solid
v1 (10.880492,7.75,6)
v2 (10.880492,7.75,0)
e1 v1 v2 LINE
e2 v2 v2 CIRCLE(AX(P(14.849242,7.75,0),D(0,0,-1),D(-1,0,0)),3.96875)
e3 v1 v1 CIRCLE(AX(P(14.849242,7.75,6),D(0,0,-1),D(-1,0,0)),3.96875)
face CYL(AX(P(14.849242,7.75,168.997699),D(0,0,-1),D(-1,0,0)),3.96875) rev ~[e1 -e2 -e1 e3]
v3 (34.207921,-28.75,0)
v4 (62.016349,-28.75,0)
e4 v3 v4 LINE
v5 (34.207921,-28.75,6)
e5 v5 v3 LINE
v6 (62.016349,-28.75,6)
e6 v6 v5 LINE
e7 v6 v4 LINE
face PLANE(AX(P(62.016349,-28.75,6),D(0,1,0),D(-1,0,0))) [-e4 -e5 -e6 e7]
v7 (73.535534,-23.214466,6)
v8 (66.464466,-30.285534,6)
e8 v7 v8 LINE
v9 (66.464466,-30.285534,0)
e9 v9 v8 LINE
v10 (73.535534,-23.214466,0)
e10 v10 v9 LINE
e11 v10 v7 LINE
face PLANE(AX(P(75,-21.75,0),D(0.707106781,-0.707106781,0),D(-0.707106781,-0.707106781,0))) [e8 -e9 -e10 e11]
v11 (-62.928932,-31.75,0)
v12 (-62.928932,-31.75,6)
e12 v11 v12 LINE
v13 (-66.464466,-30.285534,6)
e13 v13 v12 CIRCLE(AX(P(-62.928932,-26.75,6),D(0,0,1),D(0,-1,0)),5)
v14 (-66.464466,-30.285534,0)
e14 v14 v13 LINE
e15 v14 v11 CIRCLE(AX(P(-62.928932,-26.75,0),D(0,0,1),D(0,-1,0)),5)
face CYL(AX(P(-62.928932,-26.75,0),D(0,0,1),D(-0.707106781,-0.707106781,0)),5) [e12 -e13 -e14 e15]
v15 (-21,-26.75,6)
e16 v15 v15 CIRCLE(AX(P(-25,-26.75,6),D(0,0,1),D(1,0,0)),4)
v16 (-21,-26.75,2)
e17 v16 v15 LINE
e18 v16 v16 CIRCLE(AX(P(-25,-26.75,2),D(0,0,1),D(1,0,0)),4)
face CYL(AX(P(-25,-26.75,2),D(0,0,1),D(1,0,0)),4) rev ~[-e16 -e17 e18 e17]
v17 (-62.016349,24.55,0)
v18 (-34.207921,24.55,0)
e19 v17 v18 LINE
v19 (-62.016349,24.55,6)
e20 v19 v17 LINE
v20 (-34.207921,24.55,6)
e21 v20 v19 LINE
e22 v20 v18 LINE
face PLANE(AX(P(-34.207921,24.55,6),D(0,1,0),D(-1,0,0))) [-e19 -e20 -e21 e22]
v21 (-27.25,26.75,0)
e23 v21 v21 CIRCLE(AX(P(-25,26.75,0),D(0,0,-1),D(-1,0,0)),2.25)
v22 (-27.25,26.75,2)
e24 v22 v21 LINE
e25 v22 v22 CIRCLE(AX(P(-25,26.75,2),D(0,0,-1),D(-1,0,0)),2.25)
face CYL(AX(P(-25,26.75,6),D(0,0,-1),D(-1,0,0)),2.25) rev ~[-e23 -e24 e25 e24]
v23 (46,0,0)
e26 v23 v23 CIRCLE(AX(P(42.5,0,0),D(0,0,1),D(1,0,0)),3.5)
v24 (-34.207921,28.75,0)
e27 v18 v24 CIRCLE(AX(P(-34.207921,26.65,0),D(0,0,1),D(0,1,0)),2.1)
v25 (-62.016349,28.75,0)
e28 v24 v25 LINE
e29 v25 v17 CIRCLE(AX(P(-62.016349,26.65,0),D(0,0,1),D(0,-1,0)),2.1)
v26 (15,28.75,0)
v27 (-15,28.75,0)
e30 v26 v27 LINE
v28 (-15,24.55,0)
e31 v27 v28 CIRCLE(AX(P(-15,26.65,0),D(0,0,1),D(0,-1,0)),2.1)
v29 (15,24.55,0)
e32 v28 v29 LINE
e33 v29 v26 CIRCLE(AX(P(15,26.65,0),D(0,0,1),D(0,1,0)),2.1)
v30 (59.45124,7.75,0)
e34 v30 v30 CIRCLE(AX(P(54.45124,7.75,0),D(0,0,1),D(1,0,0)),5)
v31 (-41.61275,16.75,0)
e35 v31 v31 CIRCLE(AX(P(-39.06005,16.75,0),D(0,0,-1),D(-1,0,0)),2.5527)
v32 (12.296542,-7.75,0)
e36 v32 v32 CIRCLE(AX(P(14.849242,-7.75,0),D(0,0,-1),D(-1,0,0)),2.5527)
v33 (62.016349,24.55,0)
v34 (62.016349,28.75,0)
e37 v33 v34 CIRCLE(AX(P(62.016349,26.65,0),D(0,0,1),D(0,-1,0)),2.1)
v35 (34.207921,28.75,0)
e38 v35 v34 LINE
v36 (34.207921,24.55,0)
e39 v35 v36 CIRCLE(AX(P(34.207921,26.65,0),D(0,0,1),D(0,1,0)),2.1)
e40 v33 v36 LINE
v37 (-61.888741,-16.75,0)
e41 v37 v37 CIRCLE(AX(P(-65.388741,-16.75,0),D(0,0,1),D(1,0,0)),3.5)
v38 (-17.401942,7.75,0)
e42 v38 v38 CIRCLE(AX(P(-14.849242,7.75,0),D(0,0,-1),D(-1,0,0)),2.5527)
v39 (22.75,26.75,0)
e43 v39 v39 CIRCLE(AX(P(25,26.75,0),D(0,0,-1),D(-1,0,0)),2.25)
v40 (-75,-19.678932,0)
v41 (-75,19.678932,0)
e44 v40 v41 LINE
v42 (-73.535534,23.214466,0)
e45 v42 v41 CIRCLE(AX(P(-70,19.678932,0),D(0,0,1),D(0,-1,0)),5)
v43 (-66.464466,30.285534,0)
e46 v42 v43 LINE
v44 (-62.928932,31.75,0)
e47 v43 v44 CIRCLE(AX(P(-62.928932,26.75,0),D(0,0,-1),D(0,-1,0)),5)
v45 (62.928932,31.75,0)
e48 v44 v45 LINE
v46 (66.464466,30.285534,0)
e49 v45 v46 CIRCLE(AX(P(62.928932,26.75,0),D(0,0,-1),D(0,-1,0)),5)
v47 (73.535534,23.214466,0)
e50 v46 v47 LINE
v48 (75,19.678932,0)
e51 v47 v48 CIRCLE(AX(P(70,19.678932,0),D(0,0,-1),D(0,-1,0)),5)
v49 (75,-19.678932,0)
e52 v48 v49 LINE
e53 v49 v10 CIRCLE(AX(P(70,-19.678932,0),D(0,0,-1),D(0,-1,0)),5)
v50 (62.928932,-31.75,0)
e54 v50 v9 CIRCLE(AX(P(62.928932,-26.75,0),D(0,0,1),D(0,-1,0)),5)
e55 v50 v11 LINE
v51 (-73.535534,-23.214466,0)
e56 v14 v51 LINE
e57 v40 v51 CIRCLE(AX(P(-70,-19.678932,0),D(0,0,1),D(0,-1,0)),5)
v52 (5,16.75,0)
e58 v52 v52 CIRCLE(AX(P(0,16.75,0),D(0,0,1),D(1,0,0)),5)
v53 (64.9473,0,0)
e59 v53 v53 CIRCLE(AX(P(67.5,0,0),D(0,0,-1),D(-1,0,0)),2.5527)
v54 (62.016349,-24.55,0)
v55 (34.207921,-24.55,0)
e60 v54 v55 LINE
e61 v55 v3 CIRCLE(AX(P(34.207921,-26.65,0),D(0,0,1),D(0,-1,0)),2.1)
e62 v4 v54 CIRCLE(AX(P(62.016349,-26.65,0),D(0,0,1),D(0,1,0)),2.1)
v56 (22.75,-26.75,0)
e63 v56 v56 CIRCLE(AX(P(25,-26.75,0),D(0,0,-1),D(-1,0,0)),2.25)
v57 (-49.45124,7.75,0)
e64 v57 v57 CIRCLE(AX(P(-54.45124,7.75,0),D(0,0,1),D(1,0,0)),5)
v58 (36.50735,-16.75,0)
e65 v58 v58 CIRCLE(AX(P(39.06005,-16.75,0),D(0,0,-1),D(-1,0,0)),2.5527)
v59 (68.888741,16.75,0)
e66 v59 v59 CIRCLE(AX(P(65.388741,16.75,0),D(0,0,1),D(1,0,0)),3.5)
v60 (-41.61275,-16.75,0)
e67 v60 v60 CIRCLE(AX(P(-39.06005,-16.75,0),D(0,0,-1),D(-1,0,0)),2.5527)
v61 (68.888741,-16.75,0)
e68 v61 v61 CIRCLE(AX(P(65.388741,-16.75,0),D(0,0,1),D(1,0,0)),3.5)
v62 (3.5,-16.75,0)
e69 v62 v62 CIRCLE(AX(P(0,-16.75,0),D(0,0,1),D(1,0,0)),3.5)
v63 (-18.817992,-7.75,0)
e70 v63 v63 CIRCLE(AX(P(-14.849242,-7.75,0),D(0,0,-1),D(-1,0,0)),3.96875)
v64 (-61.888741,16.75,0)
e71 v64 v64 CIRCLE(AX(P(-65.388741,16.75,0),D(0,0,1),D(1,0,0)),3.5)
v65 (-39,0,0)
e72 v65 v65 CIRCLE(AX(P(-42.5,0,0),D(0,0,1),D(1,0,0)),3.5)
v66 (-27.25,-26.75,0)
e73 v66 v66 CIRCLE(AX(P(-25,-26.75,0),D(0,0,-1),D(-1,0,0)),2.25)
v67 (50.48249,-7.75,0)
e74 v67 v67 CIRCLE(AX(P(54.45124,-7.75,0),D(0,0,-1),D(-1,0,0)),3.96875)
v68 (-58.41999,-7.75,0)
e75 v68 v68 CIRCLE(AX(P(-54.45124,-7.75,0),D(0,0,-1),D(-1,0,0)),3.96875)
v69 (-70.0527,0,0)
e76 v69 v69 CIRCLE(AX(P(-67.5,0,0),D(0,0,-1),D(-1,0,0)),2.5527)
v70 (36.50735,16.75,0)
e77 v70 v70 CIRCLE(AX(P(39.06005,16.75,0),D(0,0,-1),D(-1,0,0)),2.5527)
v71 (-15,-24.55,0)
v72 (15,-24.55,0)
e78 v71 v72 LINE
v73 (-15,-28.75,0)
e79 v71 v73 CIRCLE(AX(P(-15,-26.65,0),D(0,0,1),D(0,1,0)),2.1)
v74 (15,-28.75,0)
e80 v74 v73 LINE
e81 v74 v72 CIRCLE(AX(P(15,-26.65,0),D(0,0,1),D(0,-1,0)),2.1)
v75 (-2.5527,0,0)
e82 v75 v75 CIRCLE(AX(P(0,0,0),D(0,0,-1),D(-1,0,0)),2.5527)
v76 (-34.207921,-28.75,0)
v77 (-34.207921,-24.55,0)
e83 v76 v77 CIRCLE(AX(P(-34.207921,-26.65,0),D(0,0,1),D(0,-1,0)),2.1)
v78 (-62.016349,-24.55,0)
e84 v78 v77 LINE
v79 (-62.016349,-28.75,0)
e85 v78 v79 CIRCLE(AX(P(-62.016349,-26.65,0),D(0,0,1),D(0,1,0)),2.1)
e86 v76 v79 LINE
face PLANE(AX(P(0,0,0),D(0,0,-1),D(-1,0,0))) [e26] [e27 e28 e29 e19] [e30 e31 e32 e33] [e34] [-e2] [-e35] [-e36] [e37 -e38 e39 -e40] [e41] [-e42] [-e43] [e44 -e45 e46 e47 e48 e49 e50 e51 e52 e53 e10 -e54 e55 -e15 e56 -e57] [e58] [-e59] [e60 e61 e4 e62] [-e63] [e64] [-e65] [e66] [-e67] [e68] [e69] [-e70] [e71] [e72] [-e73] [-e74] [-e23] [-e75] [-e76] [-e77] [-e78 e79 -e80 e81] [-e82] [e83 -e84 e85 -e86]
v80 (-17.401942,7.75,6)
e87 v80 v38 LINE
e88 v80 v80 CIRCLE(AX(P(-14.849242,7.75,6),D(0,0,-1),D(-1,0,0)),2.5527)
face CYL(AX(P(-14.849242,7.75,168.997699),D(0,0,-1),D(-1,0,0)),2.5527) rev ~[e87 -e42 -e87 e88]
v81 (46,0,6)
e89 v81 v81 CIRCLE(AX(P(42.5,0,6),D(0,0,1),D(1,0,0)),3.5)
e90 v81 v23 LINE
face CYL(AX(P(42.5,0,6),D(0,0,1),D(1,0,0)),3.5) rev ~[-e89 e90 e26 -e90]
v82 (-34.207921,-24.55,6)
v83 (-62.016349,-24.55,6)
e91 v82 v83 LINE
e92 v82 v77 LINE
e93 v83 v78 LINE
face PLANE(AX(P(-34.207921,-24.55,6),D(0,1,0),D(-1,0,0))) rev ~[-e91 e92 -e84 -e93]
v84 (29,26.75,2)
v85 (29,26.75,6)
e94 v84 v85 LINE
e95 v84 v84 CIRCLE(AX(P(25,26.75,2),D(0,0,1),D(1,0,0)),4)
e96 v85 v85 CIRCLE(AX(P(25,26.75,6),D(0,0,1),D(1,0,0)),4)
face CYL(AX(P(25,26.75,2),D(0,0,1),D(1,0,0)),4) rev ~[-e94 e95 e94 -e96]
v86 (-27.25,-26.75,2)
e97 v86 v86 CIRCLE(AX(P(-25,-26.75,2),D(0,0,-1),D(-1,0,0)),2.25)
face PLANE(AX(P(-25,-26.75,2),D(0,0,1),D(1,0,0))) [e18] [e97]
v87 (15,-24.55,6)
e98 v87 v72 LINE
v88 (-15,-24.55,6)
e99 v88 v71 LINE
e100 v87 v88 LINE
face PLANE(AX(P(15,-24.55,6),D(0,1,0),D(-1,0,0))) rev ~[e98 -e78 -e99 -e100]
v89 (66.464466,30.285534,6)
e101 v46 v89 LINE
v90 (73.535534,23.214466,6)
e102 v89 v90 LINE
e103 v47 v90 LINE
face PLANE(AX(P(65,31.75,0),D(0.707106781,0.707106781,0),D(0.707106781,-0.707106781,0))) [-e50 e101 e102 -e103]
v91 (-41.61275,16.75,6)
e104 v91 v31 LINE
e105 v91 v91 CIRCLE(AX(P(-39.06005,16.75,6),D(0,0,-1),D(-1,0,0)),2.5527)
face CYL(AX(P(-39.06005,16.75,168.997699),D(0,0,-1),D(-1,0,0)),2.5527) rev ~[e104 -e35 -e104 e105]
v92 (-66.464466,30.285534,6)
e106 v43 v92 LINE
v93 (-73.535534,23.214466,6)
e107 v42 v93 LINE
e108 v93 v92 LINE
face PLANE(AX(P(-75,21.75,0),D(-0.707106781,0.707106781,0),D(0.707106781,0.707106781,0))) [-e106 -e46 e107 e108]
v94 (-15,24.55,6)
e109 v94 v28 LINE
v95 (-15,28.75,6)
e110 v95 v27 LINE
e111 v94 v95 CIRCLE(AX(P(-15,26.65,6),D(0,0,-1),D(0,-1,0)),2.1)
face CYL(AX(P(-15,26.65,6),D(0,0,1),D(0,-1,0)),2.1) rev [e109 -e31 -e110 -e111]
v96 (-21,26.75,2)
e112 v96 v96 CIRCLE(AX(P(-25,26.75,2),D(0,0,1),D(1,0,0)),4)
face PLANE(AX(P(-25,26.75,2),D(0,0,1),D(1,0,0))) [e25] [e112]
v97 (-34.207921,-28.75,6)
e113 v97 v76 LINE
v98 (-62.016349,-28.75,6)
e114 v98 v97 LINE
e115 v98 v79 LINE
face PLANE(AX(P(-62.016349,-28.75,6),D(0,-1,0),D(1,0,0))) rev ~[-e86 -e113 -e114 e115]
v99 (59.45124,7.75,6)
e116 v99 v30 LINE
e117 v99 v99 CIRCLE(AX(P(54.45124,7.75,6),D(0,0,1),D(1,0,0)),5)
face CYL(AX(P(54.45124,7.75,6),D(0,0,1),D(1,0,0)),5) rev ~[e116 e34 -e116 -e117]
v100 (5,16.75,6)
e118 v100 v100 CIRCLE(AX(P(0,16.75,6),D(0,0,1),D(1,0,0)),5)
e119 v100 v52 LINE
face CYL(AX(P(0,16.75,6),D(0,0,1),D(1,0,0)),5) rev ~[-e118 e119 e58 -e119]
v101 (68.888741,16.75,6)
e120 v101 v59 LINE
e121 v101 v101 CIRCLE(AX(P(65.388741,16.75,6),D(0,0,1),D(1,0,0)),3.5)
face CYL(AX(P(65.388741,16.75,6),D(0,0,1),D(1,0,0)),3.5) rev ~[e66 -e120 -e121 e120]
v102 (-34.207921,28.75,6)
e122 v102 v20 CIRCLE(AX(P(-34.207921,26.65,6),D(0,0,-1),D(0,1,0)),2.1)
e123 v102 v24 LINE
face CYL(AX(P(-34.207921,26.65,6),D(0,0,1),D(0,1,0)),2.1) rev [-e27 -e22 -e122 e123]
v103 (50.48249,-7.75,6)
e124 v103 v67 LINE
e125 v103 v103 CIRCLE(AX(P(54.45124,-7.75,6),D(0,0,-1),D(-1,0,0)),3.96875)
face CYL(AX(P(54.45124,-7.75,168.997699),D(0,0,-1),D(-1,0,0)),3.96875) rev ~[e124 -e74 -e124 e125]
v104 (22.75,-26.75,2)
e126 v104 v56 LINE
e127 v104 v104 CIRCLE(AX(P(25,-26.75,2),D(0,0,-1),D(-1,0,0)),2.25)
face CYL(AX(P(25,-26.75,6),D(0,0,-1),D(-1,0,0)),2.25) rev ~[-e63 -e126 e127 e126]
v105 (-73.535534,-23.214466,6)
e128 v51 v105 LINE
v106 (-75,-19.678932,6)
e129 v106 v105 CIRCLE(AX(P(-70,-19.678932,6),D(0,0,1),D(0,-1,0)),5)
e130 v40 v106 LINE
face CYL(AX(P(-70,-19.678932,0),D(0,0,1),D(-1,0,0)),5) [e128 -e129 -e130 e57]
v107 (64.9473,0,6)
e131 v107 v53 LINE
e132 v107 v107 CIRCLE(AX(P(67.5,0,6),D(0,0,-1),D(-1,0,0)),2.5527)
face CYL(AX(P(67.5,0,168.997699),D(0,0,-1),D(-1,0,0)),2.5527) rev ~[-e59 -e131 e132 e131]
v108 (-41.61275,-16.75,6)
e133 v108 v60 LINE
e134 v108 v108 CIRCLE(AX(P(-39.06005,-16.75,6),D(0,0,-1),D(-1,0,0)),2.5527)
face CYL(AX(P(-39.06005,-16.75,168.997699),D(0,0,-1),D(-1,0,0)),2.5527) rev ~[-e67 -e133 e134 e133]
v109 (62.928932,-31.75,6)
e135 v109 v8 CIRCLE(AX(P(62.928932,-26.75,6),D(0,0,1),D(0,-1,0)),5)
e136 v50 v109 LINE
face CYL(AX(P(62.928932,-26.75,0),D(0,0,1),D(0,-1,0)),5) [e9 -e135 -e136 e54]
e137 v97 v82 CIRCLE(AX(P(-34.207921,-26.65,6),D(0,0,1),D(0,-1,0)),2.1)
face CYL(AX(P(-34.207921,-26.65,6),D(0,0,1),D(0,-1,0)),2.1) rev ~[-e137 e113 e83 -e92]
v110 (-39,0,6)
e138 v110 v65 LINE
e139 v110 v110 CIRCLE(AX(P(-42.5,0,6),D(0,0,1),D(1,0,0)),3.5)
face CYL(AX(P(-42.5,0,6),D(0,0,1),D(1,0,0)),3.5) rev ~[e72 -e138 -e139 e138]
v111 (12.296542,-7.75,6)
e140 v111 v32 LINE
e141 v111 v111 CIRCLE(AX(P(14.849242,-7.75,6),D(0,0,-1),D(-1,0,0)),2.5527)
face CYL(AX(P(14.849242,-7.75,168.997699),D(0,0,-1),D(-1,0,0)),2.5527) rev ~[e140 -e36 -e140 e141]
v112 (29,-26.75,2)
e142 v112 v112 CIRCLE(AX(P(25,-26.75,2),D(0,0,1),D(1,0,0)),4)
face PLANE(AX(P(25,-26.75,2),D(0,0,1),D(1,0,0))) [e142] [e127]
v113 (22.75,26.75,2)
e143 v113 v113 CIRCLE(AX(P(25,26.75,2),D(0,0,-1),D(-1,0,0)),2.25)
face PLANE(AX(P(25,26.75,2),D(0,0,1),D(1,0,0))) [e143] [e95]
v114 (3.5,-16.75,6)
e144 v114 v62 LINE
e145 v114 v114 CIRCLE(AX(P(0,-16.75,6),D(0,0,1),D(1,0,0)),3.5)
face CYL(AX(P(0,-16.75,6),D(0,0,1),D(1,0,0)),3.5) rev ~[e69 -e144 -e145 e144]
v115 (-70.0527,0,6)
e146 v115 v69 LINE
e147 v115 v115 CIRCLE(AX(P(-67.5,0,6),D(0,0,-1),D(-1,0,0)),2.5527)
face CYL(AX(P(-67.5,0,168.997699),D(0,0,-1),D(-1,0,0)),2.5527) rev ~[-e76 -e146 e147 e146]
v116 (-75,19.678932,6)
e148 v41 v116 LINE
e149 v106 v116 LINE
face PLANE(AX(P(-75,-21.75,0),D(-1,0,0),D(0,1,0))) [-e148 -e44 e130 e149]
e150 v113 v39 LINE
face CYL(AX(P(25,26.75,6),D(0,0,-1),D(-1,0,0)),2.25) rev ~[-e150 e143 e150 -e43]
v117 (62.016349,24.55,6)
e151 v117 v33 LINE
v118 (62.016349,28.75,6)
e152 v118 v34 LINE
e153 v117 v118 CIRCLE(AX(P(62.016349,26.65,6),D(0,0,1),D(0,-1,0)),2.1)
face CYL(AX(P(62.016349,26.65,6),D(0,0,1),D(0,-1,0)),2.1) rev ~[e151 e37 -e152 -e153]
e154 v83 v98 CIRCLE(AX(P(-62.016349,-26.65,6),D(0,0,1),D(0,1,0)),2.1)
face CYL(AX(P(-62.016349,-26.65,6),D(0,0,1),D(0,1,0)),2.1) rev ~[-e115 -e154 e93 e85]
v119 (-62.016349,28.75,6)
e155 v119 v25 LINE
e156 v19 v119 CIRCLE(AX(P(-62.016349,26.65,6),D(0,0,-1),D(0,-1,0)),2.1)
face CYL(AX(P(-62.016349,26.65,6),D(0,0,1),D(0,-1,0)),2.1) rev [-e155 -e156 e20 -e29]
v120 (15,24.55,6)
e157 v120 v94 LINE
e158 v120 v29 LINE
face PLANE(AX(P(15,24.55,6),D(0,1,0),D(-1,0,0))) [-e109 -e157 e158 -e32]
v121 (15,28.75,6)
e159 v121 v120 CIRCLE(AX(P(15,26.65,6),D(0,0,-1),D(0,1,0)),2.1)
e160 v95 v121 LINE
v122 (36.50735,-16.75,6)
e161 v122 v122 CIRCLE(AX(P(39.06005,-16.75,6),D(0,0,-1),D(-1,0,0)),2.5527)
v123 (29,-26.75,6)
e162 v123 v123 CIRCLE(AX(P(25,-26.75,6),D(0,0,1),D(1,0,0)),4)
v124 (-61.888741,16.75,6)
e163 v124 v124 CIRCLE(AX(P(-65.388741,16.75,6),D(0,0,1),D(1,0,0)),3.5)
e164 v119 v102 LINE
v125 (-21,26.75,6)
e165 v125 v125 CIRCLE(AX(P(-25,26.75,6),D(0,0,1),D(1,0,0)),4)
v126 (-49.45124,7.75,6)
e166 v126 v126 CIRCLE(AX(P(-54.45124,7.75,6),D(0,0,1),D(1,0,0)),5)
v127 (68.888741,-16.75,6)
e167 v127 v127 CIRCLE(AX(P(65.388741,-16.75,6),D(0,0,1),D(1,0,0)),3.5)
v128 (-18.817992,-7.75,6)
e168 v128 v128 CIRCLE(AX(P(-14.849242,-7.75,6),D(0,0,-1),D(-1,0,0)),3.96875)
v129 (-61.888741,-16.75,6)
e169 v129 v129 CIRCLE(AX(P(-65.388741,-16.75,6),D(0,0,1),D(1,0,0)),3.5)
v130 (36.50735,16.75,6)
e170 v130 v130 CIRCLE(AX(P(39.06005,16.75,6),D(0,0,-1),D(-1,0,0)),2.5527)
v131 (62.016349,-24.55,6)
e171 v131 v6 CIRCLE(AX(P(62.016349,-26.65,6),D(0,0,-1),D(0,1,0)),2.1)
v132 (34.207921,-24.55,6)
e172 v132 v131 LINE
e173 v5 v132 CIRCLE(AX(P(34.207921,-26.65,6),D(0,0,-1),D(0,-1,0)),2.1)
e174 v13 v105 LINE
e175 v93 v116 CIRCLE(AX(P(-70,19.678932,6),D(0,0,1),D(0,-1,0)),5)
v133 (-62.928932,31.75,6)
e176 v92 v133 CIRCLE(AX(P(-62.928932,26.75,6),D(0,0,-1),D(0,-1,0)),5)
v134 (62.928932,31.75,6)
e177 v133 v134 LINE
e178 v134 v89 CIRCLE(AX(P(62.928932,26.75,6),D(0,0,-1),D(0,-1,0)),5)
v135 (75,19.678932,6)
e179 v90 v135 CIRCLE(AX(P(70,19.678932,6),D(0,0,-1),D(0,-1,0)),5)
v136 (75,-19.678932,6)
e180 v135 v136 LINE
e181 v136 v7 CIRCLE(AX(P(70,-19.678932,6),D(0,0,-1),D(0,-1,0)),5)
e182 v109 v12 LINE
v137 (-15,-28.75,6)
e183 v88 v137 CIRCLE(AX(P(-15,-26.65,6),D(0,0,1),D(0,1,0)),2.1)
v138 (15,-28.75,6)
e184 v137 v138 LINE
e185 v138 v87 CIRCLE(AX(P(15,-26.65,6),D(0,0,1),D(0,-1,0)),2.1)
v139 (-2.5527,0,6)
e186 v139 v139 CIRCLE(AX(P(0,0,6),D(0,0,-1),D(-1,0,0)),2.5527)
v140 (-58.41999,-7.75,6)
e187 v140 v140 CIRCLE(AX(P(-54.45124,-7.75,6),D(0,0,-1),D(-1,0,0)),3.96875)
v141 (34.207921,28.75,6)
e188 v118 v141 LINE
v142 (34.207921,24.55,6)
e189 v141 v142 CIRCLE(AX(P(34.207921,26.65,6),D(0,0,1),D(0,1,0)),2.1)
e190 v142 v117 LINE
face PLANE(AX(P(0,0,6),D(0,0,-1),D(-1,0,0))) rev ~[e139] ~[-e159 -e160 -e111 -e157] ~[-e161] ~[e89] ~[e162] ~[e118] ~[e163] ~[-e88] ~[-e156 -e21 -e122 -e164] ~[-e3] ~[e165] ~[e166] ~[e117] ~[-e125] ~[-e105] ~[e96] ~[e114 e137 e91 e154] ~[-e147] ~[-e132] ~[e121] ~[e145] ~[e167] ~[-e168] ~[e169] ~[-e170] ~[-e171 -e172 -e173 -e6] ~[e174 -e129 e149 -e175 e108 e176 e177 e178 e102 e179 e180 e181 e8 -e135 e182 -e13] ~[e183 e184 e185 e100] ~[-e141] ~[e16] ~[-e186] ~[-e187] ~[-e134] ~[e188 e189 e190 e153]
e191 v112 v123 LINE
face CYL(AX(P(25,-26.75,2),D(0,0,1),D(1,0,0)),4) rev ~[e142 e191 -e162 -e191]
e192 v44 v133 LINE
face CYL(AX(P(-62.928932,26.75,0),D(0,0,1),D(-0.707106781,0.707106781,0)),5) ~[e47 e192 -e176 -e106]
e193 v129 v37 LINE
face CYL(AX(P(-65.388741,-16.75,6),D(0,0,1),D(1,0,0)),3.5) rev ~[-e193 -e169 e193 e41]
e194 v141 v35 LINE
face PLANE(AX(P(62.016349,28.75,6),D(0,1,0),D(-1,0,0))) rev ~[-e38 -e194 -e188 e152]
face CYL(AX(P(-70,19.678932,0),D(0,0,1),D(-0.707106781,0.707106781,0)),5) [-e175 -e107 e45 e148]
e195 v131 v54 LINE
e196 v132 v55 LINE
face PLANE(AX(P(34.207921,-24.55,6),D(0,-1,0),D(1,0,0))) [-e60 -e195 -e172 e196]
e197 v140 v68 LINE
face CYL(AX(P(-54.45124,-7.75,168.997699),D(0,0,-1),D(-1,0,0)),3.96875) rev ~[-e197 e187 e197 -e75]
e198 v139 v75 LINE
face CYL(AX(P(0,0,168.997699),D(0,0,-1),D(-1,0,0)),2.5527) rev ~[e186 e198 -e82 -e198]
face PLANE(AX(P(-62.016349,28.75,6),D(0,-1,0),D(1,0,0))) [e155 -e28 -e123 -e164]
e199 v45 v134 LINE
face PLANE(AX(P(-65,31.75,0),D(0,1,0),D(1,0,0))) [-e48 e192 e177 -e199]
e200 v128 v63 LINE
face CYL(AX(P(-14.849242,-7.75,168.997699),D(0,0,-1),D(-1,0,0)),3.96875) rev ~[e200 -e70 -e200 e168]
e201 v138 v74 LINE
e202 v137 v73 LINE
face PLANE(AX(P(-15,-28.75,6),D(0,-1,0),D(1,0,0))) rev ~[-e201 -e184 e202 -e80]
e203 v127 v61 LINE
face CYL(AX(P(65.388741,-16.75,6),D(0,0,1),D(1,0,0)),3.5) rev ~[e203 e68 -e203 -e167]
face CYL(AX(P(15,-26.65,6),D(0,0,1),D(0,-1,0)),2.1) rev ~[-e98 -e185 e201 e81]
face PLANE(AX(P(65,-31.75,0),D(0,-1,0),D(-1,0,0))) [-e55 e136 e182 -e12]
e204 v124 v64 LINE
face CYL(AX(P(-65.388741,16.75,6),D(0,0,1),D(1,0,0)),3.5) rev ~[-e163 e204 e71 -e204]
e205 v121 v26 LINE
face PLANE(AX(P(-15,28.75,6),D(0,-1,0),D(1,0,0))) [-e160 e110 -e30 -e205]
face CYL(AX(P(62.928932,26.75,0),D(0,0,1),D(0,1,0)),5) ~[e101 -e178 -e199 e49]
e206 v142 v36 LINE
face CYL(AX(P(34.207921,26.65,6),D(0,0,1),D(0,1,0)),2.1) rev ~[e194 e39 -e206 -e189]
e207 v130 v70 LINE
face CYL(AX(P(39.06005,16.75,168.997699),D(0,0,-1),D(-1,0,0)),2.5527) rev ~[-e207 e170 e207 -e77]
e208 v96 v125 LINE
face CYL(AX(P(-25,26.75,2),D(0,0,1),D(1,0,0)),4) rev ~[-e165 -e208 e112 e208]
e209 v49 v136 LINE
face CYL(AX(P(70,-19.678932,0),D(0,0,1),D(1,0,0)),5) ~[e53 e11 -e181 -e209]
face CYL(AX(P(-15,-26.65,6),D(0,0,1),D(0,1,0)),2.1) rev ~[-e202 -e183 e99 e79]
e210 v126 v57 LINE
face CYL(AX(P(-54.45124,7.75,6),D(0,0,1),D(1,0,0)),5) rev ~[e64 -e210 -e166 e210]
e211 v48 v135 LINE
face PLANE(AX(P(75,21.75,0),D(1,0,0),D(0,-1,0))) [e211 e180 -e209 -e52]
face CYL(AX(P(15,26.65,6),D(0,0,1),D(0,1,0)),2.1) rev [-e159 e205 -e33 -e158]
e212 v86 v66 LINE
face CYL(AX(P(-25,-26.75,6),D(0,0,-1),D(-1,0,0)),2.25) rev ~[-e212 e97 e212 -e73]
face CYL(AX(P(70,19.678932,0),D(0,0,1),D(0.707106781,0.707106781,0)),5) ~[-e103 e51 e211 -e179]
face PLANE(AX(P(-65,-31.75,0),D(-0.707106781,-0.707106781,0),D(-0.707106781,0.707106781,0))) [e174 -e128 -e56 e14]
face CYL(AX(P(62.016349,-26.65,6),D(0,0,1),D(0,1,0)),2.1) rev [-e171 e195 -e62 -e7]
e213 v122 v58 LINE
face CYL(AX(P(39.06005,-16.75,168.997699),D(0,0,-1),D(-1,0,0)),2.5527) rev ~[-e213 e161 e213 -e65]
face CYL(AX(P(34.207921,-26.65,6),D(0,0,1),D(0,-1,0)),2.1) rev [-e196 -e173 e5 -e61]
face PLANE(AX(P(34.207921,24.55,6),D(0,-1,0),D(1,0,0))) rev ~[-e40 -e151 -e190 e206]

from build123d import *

# Parameters (mm, degrees)
EXTRUDE_2_DEPTH             = 6
HOLE_WIZARD_M41_D           = 4.5
HOLE_WIZARD_M41_CBORE_D     = 8
HOLE_WIZARD_M41_CBORE_DEPTH = 4
SKETCH_13_R                 = 5
SKETCH_13_R_2               = 3.5
CUT_EXTRUDE_1_DEPTH         = 7
FILLET_1_R                  = 5
HOLE_WIZARD_1_4_202_D       = 5.1054
HOLE_WIZARD_3_8_161_D       = 7.9375
HOLE_WIZARD_1_4_203_D       = 5.1054
HOLE_WIZARD_3_8_163_D       = 7.9375


with BuildPart() as part:
    # Эскиз5 → Бобышка-Вытянуть2 (new body)
    with BuildSketch(Plane.XY):
        Polygon((-75, 21.75), (-65, 31.75), (65, 31.75), (75, 21.75), (75, -21.75), (65, -31.75), (-65, -31.75), (-75, -21.75), align=None)
    extrude(amount=EXTRUDE_2_DEPTH)

    # Цековка для винта с внутренним шестигранником M41 (through all)
    with Locations(Plane.XY.offset(6)):
        with Locations((-25, 26.75), (-25, -26.75), (25, -26.75), (25, 26.75)):
            CounterBoreHole(HOLE_WIZARD_M41_D / 2, HOLE_WIZARD_M41_CBORE_D / 2, HOLE_WIZARD_M41_CBORE_DEPTH)

    # Эскиз13 → Вырез-Вытянуть1 (cut, through all)
    with BuildSketch(Plane.XY.offset(6)):
        with Locations((-54.451239655, 7.75)):
            Circle(SKETCH_13_R)
        with Locations((-65.388741386, 16.75)):
            Circle(SKETCH_13_R_2)
        with Locations((-65.388741386, -16.75)):
            Circle(SKETCH_13_R_2)
        with Locations((65.388741386, -16.75)):
            Circle(SKETCH_13_R_2)
        with Locations((54.451239655, 7.75)):
            Circle(SKETCH_13_R)
        with Locations((65.388741386, 16.75)):
            Circle(SKETCH_13_R_2)
        with Locations((0, -16.75)):
            Circle(SKETCH_13_R_2)
        with Locations((-42.5, 0)):
            Circle(SKETCH_13_R_2)
        with Locations((0, 16.75)):
            Circle(SKETCH_13_R)
        with Locations((42.5, 0)):
            Circle(SKETCH_13_R_2)
        with BuildLine():
            Line((-34.207920637, 24.55), (-62.016348651, 24.55))
            ThreePointArc((-62.016348651, 24.55), (-64.116348651, 26.65), (-62.016348651, 28.75))
            Line((-62.016348651, 28.75), (-34.207920637, 28.75))
            ThreePointArc((-34.207920637, 28.75), (-32.107920637, 26.65), (-34.207920637, 24.55))
        make_face()
        with BuildLine():
            Line((34.207920637, 24.55), (62.016348651, 24.55))
            ThreePointArc((62.016348651, 24.55), (64.116348651, 26.65), (62.016348651, 28.75))
            Line((62.016348651, 28.75), (34.207920637, 28.75))
            ThreePointArc((34.207920637, 28.75), (32.107920637, 26.65), (34.207920637, 24.55))
        make_face()
        with BuildLine():
            Line((-34.207920637, -24.55), (-62.016348651, -24.55))
            ThreePointArc((-62.016348651, -24.55), (-64.116348651, -26.65), (-62.016348651, -28.75))
            Line((-62.016348651, -28.75), (-34.207920637, -28.75))
            ThreePointArc((-34.207920637, -28.75), (-32.107920637, -26.65), (-34.207920637, -24.55))
        make_face()
        with BuildLine():
            Line((34.207920637, -24.55), (62.016348651, -24.55))
            ThreePointArc((62.016348651, -24.55), (64.116348651, -26.65), (62.016348651, -28.75))
            Line((62.016348651, -28.75), (34.207920637, -28.75))
            ThreePointArc((34.207920637, -28.75), (32.107920637, -26.65), (34.207920637, -24.55))
        make_face()
        with BuildLine():
            Line((-15, 28.75), (15, 28.75))
            ThreePointArc((15, 28.75), (17.1, 26.65), (15, 24.55))
            Line((15, 24.55), (-15, 24.55))
            ThreePointArc((-15, 24.55), (-17.1, 26.65), (-15, 28.75))
        make_face()
        with BuildLine():
            Line((-15, -28.75), (15, -28.75))
            ThreePointArc((15, -28.75), (17.1, -26.65), (15, -24.55))
            Line((15, -24.55), (-15, -24.55))
            ThreePointArc((-15, -24.55), (-17.1, -26.65), (-15, -28.75))
        make_face()
    extrude(amount=-CUT_EXTRUDE_1_DEPTH, mode=Mode.SUBTRACT)

    # Скругление1
    fillet_1_edges = [part.edges().sort_by_distance(p)[0] for p in [
        (65, 31.75, 3),
        (75, 21.75, 3),
        (75, -21.75, 3),
        (65, -31.75, 3),
        (-65, -31.75, 3),
        (-75, -21.75, 3),
        (-75, 21.75, 3),
        (-65, 31.75, 3),
    ]]
    fillet(fillet_1_edges, radius=FILLET_1_R)

    # Отверстие обработанное метчиком 1/4-202 (through all)
    with Locations(Plane.XY.offset(6)):
        with Locations((-67.5, 0), (-39.060049923, 16.75), (-39.060049923, -16.75), (39.060049923, 16.75), (39.060049923, -16.75), (67.5, 0)):
            Hole(HOLE_WIZARD_1_4_202_D / 2)

    # Отверстие обработанное метчиком 3/8-161 (through all)
    with Locations(Plane.XY.offset(6)):
        with Locations((-54.451239655, -7.75), (54.451239655, -7.75)):
            Hole(HOLE_WIZARD_3_8_161_D / 2)

    # Отверстие обработанное метчиком 1/4-203 (through all)
    with Locations(Plane.XY.offset(6)):
        with Locations((0, 0), (-14.849242405, 7.75), (14.849242405, -7.75)):
            Hole(HOLE_WIZARD_1_4_203_D / 2)

    # Отверстие обработанное метчиком 3/8-163 (through all)
    with Locations(Plane.XY.offset(6)):
        with Locations((-14.849242405, -7.75), (14.849242405, 7.75)):
            Hole(HOLE_WIZARD_3_8_163_D / 2)


solid = part.part
